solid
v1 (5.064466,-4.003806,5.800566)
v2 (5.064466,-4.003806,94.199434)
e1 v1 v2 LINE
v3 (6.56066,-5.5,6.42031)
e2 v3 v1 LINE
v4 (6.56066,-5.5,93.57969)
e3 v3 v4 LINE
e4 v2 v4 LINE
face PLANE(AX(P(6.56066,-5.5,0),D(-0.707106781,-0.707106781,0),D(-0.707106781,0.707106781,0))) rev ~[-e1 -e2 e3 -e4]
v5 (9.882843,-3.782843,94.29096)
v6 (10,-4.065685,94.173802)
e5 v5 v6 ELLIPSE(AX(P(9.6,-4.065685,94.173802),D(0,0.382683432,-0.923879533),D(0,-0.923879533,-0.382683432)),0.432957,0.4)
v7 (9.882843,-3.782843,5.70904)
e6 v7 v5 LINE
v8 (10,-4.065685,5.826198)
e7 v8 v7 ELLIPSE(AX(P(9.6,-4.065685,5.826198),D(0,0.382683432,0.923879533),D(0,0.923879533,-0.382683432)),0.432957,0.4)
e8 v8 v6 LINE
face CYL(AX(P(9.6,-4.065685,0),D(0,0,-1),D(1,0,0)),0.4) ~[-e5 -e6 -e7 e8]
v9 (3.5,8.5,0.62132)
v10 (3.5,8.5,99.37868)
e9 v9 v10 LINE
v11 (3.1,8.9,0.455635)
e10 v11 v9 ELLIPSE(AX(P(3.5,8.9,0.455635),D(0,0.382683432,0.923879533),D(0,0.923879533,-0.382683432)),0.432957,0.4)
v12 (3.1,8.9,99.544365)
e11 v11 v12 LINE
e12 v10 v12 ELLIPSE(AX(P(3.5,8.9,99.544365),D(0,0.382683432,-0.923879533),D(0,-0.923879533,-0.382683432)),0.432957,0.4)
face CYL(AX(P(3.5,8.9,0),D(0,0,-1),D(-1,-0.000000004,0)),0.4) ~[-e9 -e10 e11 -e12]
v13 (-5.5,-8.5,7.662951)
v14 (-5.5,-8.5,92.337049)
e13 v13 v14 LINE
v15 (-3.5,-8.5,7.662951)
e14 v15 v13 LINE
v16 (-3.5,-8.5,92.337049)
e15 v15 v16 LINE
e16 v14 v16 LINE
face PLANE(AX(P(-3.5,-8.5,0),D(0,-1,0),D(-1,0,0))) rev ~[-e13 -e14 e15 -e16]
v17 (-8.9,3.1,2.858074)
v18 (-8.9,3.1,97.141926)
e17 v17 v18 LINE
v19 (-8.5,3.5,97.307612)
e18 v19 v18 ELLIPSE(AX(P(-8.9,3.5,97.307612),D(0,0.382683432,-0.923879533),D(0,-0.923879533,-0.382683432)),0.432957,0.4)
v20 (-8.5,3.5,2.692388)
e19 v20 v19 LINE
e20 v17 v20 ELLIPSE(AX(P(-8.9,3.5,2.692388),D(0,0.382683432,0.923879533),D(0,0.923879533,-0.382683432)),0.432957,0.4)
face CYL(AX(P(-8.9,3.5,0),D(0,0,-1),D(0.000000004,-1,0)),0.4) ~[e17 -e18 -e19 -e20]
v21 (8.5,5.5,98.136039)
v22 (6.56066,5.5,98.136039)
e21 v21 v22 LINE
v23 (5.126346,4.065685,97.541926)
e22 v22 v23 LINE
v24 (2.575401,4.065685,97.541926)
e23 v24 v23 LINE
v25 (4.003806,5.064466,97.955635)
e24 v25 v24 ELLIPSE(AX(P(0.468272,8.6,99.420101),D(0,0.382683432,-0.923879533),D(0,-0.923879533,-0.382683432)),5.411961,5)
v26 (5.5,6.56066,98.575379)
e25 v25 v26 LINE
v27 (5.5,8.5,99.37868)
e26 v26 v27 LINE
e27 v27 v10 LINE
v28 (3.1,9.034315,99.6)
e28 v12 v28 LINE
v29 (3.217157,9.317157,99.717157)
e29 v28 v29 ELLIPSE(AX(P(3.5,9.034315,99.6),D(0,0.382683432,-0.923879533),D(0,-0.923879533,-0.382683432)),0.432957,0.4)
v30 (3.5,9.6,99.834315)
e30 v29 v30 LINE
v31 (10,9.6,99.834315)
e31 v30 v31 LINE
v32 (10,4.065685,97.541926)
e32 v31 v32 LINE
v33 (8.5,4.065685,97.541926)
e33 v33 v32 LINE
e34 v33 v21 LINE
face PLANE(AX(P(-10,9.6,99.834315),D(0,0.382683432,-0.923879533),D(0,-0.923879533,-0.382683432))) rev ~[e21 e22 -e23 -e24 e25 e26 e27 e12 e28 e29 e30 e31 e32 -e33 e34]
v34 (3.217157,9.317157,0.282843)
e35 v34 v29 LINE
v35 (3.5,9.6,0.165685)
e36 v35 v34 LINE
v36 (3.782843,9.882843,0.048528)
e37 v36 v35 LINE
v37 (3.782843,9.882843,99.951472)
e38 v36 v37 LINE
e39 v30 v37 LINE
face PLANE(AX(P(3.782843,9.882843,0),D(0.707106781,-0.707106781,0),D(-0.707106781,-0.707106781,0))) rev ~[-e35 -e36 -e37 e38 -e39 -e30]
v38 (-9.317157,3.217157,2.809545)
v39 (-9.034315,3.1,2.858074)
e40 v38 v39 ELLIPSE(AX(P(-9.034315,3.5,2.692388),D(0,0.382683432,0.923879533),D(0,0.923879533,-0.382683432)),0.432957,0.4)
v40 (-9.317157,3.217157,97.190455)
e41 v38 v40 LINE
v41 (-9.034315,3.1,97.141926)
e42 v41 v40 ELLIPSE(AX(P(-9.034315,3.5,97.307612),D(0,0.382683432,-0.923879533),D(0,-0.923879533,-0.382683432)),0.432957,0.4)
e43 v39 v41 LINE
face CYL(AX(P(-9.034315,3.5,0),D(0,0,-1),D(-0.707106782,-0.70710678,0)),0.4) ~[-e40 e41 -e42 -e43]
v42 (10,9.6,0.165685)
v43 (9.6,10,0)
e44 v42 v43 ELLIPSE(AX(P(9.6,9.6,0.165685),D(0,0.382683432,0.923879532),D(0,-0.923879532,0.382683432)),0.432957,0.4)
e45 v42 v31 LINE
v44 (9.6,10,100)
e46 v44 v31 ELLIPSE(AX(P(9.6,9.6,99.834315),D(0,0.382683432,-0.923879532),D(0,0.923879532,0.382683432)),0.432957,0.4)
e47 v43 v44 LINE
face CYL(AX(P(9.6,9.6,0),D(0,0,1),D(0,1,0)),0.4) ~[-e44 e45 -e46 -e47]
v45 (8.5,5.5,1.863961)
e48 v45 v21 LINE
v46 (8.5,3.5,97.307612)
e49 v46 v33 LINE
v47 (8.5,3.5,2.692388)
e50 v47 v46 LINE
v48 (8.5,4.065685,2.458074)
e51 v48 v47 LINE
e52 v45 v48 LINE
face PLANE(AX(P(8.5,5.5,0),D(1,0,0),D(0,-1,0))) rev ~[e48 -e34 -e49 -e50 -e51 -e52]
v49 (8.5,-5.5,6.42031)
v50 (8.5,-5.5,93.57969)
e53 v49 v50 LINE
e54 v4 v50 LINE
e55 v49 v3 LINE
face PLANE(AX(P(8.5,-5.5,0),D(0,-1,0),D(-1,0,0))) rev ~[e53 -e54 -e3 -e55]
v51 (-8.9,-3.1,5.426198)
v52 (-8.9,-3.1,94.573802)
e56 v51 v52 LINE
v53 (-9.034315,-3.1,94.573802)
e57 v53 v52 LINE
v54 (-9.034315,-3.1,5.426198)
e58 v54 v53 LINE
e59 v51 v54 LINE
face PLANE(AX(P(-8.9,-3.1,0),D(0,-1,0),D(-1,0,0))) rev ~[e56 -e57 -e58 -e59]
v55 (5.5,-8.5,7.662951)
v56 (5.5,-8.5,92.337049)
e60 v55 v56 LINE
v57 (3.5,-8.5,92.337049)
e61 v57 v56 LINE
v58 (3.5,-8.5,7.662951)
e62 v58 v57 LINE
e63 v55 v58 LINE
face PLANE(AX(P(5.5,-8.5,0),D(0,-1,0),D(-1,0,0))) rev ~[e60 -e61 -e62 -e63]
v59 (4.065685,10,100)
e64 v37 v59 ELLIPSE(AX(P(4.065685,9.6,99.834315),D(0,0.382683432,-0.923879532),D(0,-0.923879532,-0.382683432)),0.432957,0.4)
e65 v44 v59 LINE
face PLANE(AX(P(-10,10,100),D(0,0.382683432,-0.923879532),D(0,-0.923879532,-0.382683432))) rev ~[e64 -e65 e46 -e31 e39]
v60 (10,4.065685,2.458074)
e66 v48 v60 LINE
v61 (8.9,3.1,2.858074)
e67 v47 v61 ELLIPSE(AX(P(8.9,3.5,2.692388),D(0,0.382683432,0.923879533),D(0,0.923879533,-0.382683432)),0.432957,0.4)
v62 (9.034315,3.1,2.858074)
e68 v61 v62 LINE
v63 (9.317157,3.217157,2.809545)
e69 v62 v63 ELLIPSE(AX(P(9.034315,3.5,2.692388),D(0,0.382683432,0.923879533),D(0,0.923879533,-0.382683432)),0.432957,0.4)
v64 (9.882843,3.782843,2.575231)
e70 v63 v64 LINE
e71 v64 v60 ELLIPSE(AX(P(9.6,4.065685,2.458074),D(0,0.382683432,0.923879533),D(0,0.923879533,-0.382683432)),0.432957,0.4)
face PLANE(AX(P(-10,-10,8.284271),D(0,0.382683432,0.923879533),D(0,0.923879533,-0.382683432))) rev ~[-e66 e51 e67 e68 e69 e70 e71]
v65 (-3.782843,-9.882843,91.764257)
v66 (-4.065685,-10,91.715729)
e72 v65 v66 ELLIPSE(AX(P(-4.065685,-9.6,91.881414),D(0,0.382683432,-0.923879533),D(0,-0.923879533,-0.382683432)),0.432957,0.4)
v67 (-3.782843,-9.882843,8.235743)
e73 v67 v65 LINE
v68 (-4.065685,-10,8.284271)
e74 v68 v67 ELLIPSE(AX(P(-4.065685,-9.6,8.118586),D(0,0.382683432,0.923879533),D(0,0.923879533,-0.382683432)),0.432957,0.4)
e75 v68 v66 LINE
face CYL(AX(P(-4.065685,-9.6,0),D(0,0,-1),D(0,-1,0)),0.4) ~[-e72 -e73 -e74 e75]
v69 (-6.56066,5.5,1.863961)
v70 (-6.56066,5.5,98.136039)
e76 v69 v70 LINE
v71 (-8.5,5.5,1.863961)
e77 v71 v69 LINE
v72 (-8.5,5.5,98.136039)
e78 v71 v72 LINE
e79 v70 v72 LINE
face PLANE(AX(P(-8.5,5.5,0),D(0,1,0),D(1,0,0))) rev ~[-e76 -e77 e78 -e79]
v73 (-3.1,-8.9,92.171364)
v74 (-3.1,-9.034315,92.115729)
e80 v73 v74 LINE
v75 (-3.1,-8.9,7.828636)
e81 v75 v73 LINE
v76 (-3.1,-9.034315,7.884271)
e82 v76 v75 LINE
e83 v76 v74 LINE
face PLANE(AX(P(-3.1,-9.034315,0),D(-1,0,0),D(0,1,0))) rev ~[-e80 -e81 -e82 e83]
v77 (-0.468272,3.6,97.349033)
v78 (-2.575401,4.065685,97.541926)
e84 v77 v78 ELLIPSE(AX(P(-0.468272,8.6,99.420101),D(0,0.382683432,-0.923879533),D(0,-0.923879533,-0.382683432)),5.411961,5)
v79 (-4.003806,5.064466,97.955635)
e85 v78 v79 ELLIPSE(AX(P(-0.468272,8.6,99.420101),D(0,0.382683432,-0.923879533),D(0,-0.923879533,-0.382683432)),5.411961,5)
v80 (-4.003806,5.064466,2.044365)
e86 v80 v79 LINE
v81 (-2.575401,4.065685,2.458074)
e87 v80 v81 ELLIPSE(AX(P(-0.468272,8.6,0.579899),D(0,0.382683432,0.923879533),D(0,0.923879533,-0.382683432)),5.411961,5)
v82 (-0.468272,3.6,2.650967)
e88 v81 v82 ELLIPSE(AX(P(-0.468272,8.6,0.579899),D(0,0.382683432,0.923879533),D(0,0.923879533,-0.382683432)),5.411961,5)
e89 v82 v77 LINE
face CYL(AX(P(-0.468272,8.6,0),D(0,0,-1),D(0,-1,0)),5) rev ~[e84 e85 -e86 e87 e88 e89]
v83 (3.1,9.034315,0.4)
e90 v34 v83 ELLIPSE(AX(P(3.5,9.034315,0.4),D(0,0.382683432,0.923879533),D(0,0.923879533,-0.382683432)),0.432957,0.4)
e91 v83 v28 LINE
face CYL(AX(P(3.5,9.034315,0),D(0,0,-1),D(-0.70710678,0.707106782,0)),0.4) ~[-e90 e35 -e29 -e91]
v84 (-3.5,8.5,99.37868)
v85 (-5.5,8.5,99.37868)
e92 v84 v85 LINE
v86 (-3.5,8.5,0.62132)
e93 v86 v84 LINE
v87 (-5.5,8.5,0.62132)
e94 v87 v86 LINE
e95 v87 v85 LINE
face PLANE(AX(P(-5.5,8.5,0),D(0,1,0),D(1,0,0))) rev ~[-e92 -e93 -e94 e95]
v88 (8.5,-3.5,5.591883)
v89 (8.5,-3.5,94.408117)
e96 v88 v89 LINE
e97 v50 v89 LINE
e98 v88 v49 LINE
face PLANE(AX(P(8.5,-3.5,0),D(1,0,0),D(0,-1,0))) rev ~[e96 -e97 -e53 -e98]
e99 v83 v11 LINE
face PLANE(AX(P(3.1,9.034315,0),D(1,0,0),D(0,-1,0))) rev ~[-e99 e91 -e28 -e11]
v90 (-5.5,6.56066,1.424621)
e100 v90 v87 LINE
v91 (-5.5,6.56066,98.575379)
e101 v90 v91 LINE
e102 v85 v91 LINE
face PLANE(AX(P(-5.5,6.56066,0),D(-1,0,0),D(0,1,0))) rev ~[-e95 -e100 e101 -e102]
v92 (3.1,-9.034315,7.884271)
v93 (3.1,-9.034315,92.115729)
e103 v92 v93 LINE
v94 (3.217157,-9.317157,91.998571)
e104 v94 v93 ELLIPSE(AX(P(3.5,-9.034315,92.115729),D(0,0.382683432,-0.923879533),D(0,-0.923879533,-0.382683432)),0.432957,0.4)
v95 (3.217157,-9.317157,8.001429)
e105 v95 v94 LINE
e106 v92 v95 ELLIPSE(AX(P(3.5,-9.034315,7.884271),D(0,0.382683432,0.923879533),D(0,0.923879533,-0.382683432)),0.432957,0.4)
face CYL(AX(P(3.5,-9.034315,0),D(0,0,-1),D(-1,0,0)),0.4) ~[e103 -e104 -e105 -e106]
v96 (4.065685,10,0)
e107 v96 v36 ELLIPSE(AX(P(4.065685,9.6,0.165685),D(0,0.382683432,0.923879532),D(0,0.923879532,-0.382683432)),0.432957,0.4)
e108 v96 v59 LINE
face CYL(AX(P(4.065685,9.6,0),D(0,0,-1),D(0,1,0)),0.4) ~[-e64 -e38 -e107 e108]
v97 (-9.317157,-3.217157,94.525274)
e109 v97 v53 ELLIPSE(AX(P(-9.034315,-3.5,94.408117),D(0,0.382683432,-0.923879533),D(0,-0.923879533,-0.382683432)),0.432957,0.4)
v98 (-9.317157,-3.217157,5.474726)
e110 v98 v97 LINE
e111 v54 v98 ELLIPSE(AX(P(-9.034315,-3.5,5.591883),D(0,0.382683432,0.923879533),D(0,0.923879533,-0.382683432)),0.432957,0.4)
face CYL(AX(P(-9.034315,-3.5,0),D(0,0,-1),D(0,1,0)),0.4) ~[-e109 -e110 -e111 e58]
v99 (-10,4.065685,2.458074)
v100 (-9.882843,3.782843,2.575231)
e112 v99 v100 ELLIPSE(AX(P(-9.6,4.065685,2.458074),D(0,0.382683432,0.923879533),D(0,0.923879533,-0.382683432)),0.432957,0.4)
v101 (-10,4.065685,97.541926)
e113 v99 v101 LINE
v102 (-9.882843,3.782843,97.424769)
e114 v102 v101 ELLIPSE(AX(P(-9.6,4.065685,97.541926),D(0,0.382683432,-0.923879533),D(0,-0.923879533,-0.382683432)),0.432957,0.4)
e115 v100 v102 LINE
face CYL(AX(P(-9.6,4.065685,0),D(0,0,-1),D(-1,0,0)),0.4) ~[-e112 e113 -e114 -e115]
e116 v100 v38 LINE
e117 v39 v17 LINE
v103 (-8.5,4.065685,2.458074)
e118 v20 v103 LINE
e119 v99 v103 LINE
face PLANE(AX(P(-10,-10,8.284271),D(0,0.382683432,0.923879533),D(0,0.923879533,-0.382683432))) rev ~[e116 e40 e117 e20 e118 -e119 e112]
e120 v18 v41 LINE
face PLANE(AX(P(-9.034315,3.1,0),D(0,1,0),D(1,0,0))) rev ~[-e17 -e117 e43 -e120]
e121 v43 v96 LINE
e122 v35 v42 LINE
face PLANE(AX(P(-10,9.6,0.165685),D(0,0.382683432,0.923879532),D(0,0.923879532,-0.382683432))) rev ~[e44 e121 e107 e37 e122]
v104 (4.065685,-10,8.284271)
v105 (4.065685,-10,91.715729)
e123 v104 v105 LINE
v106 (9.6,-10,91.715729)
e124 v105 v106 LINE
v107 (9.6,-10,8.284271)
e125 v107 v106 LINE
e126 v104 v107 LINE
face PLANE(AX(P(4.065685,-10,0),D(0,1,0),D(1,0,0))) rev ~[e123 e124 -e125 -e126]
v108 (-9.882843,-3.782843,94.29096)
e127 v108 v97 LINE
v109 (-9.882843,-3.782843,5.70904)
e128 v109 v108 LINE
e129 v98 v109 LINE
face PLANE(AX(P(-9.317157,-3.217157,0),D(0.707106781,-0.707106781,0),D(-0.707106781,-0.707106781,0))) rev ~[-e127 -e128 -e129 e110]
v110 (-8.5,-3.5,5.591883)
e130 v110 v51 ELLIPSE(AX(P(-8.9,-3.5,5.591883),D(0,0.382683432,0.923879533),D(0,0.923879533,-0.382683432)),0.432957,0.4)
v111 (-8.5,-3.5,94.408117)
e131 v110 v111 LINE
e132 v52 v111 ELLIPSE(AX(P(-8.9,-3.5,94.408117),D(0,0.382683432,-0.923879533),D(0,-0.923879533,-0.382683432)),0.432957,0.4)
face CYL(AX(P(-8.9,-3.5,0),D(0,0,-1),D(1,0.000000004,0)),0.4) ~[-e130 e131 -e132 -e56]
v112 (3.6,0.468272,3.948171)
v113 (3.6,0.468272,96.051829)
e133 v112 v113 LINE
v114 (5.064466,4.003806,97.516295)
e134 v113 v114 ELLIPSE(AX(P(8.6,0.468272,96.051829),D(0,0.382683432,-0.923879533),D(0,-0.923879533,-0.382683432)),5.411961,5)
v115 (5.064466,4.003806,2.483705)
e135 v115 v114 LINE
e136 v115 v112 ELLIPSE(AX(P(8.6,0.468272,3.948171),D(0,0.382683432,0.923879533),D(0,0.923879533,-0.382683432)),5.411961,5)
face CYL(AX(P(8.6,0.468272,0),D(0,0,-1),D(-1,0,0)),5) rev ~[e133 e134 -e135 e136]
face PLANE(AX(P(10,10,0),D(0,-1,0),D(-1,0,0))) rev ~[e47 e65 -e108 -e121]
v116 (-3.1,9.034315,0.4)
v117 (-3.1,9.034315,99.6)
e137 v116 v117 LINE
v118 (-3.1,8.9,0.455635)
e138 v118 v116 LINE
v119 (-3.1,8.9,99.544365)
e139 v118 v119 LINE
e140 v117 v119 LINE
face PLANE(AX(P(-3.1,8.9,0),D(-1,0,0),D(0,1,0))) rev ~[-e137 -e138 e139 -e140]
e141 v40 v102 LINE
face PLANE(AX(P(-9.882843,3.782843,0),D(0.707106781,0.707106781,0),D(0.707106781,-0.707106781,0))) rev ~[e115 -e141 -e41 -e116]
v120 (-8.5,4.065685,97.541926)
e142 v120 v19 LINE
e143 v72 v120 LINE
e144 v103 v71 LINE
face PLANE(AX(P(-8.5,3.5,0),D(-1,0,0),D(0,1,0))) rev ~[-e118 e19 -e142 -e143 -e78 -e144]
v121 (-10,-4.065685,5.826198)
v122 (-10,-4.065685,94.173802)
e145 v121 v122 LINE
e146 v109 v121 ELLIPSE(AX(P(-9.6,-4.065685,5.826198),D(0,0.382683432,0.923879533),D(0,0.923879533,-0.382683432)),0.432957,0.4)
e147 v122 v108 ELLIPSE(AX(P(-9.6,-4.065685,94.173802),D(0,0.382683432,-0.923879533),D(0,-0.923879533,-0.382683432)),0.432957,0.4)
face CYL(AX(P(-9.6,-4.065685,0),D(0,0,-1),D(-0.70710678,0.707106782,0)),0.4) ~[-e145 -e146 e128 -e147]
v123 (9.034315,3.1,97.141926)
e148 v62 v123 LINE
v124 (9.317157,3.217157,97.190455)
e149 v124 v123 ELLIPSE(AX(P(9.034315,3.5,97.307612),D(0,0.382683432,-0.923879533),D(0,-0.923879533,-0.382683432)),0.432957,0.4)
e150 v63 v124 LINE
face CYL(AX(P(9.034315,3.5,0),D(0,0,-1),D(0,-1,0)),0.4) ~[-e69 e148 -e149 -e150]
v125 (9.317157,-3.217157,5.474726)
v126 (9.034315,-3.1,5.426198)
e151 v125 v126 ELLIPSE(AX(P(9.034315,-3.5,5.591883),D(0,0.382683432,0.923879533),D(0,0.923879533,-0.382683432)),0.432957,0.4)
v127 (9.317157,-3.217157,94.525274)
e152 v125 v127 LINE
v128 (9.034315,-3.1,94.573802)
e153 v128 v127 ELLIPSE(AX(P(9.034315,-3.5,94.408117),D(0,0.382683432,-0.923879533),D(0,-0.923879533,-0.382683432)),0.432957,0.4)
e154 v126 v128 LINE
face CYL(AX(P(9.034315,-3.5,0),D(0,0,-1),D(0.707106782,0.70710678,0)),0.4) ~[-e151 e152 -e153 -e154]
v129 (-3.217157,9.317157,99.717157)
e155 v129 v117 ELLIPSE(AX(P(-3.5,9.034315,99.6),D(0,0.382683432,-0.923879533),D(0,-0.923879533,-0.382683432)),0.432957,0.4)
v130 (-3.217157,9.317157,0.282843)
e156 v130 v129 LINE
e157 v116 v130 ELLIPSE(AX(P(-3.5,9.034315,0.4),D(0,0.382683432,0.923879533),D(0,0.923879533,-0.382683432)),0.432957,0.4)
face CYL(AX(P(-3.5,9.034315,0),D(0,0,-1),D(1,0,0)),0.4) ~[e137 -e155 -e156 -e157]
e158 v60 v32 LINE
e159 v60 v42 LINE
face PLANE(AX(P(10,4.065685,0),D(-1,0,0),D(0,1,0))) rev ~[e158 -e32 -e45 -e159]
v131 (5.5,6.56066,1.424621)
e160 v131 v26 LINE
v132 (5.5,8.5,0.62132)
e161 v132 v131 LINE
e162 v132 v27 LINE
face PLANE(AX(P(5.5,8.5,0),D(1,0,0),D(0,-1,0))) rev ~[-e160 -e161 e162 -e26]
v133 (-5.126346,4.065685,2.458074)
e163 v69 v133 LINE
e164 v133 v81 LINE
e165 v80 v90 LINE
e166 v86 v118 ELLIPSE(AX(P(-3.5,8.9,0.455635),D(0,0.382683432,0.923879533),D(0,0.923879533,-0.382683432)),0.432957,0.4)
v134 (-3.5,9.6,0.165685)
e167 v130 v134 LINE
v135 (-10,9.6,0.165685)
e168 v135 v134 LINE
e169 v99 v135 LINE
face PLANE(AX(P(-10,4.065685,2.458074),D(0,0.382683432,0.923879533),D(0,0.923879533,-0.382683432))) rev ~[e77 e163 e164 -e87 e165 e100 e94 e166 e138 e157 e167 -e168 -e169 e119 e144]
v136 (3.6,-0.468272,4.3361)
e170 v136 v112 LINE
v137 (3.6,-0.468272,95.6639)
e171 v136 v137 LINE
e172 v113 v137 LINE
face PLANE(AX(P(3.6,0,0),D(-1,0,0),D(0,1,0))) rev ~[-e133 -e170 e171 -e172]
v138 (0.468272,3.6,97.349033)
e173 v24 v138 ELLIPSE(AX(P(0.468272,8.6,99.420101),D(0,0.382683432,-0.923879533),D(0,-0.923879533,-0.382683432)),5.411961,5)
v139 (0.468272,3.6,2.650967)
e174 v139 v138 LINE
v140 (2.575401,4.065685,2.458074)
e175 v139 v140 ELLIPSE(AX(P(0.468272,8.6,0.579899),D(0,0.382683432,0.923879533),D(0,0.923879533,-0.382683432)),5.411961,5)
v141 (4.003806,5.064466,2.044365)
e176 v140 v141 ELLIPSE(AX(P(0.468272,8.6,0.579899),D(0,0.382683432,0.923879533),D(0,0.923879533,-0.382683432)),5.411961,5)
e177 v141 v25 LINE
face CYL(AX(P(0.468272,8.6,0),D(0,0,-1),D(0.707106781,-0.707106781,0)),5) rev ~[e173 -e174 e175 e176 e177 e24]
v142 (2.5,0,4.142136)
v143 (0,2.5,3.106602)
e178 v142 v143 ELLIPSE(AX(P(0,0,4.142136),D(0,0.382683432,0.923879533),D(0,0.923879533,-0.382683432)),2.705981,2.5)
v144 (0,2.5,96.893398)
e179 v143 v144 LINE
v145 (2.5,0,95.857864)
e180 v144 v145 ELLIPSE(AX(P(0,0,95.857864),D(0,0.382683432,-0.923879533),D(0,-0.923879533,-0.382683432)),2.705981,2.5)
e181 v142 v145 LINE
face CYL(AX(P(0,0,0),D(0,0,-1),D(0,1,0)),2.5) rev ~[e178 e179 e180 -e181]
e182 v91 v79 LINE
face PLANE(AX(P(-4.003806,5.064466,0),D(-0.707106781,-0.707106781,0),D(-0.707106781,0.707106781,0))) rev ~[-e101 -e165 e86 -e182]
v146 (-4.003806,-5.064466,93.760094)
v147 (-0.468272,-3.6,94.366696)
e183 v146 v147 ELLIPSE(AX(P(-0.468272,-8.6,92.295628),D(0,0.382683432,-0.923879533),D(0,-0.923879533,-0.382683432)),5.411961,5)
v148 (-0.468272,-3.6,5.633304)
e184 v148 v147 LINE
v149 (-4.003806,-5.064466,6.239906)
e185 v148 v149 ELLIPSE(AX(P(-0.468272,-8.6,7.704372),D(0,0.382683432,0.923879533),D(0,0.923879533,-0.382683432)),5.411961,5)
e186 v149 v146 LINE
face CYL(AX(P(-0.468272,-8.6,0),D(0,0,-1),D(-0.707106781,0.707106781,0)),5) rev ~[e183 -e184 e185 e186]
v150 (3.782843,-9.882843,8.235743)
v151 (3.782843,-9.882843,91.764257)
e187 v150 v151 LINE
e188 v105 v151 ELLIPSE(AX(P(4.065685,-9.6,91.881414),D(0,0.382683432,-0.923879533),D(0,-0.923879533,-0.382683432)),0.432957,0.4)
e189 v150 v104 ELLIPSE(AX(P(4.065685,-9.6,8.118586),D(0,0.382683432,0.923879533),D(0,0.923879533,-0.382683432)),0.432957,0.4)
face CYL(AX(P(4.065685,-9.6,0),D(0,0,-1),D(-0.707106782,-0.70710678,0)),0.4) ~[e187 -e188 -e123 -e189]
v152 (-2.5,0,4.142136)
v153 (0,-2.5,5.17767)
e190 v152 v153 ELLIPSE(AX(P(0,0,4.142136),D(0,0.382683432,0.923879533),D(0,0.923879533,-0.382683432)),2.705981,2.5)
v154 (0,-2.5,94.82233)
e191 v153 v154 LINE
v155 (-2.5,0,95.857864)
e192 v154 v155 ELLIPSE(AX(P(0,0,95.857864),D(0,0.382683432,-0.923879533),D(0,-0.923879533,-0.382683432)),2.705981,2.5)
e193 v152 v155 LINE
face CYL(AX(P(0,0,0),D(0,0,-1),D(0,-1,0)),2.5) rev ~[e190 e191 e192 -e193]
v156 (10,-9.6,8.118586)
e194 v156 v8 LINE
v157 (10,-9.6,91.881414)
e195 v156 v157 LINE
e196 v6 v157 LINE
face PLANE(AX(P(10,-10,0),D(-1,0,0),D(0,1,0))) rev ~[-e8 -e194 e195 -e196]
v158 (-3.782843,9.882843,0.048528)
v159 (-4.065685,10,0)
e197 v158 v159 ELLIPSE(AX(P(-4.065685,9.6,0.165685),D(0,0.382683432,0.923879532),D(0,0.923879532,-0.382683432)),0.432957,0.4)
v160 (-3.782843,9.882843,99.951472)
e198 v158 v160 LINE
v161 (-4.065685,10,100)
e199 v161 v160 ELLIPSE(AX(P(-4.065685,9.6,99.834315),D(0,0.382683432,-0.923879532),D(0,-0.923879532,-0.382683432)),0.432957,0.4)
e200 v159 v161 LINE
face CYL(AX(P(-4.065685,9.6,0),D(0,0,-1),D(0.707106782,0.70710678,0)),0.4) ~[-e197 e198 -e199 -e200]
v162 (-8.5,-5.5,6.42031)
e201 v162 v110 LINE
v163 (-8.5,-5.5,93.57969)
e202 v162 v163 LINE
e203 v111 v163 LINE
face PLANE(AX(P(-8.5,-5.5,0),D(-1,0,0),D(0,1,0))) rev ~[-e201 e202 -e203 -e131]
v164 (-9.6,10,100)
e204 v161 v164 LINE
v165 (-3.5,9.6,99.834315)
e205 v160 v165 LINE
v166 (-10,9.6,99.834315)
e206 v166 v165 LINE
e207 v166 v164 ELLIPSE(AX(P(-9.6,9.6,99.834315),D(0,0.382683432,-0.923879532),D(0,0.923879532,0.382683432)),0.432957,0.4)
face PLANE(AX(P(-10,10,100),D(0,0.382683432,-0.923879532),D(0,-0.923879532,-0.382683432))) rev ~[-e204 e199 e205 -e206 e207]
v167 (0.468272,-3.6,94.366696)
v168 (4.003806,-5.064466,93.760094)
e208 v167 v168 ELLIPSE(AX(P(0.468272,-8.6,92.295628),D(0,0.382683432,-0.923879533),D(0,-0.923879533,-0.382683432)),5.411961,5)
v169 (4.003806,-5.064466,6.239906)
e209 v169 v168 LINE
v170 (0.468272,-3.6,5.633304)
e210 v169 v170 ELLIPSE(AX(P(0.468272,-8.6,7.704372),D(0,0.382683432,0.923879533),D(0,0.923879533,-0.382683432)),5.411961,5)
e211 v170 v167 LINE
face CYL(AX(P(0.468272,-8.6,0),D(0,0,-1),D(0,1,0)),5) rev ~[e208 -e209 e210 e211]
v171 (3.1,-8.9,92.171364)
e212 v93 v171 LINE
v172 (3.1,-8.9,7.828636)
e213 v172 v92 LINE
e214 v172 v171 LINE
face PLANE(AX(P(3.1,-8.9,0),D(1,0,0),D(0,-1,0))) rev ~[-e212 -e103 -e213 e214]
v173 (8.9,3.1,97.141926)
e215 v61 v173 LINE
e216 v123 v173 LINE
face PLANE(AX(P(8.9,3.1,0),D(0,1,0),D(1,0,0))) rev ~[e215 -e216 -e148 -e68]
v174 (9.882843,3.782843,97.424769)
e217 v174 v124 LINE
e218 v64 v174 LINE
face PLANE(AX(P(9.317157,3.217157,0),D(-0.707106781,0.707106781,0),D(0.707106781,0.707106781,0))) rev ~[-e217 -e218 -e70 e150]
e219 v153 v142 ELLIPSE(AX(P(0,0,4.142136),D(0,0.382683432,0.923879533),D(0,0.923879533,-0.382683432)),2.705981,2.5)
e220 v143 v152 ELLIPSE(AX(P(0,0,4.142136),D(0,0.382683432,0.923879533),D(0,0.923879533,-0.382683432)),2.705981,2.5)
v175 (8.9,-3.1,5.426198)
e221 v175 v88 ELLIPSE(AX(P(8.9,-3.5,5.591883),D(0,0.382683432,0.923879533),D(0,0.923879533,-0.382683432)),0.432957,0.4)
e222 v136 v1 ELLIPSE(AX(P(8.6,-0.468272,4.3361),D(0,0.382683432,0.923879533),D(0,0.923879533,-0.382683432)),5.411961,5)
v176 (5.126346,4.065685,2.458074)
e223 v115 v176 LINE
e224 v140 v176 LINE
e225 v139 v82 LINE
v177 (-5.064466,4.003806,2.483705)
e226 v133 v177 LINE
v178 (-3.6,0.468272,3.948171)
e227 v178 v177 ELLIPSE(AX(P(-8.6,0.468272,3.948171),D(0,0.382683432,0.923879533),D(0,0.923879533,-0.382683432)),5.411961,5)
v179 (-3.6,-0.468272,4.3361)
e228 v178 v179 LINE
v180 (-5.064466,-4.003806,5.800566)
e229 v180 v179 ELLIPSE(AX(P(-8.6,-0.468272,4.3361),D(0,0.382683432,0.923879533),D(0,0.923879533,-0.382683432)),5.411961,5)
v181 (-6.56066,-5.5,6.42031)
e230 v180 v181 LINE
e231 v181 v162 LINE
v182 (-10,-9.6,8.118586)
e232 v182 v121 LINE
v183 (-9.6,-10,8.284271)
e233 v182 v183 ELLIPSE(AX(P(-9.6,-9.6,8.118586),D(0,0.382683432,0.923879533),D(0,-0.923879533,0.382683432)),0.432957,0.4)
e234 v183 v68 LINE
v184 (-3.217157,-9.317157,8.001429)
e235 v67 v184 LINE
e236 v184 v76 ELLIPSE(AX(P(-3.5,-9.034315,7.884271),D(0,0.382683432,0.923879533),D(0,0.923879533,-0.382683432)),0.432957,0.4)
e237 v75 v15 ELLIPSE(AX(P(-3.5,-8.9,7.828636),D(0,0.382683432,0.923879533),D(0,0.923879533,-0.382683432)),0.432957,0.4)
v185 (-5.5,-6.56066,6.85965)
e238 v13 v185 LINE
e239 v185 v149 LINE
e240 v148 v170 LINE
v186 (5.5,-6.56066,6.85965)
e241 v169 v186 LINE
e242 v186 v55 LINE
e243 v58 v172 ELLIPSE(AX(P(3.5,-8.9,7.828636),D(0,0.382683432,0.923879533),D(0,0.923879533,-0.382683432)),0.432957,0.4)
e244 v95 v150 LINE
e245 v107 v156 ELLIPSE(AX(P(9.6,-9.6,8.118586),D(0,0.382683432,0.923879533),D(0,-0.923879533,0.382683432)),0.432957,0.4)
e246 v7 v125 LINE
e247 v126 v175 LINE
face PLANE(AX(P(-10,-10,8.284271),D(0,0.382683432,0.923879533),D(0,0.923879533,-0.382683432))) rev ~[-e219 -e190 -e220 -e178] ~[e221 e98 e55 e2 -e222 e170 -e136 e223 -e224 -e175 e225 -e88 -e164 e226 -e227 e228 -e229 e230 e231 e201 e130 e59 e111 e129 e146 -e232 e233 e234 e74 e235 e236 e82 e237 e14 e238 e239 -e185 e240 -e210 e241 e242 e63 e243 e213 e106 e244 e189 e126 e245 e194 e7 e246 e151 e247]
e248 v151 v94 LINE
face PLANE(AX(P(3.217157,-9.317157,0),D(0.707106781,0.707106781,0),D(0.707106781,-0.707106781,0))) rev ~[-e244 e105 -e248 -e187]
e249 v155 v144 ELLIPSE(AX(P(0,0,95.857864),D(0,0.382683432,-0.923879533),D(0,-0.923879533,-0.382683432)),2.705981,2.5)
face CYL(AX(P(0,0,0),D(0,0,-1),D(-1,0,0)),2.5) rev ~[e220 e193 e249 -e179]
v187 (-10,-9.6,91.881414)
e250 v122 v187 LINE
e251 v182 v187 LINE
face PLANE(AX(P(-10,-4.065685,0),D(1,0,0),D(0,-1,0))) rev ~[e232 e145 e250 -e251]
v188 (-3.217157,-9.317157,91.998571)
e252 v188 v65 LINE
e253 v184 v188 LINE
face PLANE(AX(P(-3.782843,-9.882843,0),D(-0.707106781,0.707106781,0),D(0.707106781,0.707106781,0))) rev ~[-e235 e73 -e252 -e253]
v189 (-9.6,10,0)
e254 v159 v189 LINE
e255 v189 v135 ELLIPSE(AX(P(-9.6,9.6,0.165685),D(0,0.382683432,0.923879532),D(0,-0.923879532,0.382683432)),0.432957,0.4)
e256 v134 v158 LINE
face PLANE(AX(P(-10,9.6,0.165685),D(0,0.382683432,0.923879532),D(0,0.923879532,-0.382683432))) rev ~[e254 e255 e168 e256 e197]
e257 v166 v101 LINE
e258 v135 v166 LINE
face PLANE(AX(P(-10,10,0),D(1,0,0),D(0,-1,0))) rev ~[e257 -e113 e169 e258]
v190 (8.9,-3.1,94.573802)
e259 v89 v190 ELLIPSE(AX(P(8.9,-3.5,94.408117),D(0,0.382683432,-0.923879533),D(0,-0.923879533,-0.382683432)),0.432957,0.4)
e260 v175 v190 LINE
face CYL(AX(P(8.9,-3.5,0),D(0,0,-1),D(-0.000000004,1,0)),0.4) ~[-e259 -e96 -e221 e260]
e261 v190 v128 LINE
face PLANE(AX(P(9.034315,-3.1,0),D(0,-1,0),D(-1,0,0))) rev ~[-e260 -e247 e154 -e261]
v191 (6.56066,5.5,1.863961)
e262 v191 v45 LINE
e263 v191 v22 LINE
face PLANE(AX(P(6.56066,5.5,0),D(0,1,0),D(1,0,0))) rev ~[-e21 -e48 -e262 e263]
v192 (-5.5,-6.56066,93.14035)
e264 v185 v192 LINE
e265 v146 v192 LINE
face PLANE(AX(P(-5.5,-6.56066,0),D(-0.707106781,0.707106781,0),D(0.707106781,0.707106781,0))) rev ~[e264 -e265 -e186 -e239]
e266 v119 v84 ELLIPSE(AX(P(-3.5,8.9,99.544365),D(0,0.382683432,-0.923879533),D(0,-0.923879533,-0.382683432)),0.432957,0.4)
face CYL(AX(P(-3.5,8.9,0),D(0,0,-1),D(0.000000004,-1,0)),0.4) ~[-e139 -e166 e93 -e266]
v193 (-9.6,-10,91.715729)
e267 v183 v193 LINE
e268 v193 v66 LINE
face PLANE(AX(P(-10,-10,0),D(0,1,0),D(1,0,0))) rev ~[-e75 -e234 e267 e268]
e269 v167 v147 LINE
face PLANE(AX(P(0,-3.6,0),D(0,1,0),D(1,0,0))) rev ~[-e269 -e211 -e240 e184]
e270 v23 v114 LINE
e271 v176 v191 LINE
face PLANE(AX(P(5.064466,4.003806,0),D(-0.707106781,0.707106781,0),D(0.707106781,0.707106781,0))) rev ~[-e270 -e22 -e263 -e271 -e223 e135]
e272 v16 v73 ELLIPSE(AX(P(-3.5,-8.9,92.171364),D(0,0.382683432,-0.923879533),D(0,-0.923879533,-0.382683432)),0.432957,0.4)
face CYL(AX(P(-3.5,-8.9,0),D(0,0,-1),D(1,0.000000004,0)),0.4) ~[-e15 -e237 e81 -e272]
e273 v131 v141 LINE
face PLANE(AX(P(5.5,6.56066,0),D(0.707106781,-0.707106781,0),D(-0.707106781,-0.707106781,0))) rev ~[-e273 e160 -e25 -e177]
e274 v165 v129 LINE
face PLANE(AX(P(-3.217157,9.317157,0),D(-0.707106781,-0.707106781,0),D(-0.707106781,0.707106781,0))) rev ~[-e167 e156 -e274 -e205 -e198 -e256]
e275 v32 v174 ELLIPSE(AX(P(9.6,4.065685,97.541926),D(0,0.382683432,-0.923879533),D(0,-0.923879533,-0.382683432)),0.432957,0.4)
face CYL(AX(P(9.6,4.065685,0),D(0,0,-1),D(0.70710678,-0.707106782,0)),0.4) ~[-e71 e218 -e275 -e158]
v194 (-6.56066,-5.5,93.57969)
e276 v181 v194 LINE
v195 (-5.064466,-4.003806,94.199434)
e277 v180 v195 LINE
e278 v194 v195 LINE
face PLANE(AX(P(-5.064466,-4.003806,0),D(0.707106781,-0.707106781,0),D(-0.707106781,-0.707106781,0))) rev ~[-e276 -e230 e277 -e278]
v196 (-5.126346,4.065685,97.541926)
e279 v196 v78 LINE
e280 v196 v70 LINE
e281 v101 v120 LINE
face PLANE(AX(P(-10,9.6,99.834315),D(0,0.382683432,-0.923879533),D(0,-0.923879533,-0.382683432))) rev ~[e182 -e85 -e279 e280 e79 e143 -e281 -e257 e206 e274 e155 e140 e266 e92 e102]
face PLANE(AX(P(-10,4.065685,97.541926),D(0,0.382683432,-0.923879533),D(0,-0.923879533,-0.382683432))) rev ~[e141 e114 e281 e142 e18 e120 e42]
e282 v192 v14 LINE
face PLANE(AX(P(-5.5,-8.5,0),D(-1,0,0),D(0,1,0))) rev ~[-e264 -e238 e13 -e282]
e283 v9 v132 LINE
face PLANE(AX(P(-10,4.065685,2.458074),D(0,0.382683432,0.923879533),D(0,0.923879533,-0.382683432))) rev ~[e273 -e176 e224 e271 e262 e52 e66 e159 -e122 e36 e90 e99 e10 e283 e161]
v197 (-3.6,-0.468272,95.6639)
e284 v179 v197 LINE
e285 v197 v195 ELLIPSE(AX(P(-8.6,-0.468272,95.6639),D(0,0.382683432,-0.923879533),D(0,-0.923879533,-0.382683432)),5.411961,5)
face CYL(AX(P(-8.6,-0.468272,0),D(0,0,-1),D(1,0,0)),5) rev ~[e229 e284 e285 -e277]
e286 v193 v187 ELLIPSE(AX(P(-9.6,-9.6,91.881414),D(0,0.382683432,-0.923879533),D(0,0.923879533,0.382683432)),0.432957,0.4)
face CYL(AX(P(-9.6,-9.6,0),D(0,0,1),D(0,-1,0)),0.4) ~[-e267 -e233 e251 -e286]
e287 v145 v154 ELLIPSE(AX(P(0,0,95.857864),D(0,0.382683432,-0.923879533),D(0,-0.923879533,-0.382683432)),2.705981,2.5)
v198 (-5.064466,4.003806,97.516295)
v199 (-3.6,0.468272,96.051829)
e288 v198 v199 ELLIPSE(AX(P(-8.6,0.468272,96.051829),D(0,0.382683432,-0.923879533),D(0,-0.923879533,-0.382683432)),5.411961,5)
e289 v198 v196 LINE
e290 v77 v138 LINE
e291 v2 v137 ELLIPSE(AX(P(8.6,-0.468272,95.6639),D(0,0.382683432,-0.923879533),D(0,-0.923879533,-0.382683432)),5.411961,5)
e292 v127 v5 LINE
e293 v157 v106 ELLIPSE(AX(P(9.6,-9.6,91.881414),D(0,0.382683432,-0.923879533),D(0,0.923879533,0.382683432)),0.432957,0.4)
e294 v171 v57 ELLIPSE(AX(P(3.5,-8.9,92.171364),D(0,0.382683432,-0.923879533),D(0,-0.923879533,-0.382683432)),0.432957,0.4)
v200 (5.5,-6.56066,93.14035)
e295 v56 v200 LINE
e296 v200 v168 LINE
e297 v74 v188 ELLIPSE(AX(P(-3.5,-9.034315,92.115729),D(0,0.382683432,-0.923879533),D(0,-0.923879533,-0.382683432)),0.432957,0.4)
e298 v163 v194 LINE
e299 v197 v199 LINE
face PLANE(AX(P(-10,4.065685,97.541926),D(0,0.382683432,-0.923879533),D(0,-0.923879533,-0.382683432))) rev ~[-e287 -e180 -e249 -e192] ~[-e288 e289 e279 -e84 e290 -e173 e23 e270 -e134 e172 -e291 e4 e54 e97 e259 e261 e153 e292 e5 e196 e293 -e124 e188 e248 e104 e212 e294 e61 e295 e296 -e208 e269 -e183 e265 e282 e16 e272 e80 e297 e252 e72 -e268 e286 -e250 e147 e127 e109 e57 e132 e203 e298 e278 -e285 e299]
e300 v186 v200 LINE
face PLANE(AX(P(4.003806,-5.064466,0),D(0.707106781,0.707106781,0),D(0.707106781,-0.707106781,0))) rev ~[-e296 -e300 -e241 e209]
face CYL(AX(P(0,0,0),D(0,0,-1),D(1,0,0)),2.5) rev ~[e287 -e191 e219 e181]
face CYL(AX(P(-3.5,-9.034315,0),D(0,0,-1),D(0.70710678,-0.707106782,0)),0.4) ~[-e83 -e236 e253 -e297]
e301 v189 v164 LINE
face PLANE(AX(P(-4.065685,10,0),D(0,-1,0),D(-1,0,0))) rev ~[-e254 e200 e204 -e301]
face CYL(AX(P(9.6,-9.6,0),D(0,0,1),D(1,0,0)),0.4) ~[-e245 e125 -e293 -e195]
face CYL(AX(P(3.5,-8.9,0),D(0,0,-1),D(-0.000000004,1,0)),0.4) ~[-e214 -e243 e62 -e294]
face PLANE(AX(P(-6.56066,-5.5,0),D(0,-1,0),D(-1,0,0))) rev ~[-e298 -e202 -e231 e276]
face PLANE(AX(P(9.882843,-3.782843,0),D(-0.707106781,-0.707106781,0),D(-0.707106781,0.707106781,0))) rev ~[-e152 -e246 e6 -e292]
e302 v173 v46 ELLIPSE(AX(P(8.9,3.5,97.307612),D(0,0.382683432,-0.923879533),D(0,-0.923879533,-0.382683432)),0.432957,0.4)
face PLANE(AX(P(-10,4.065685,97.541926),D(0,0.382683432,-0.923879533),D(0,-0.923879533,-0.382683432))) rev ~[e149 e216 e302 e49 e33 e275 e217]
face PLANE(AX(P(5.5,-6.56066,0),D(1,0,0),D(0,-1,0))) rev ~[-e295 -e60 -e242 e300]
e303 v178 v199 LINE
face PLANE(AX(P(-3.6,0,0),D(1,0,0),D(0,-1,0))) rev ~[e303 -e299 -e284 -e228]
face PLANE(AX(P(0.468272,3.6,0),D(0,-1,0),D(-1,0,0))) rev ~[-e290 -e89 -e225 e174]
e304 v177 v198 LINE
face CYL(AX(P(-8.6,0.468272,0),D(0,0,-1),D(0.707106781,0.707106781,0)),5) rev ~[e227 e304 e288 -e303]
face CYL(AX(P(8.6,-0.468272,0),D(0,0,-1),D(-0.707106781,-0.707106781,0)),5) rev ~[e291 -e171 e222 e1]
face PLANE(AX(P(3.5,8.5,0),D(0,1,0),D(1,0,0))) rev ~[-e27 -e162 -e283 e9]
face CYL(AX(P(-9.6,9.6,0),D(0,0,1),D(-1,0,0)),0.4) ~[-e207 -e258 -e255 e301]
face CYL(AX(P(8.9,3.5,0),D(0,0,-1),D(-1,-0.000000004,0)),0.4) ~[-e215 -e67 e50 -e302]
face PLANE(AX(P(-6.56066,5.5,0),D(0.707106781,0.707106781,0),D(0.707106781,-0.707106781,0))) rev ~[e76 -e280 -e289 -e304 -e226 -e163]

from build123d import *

# Parameters (mm, degrees)
RESSALTO_EXTRUS_O1_DEPTH = 100
PADR_OCIRCULAR1_COUNT    = 4
FILETE1_R                = 0.4
CUT_EXTRUDE1_DEPTH       = 103.46950766


with BuildPart() as part:
    # Esboço1 → Ressalto-extrusão1 (new body)
    with BuildSketch(Plane.XY):
        with BuildLine():
            ThreePointArc((-9.317157288, 3.217157288), (-9.187387948, 3.130448187), (-9.034314575, 3.1))
            Line((-9.034314575, 3.1), (-8.9, 3.1))
            ThreePointArc((-8.9, 3.1), (-8.617157288, 3.217157288), (-8.5, 3.5))
            Line((-8.5, 3.5), (-8.5, 5.5))
            Line((-8.5, 5.5), (-6.560660172, 5.5))
            Line((-6.560660172, 5.5), (-5.064466094, 4.003805922))
            ThreePointArc((-5.064466094, 4.003805922), (-3.980602337, 2.381689178), (-3.6, 0.468272016))
            Line((-3.6, 0.468272016), (-3.6, 0))
            Line((-3.6, 0), (-2.5, 0))
            ThreePointArc((-2.5, 0), (-1.767766953, 1.767766953), (0, 2.5))
            Line((0, 2.5), (0, 3.6))
            Line((0, 3.6), (-0.468272016, 3.6))
            ThreePointArc((-0.468272016, 3.6), (-2.381689178, 3.980602337), (-4.003805922, 5.064466094))
            Line((-4.003805922, 5.064466094), (-5.5, 6.560660172))
            Line((-5.5, 6.560660172), (-5.5, 8.5))
            Line((-5.5, 8.5), (-3.5, 8.5))
            ThreePointArc((-3.5, 8.5), (-3.217157288, 8.617157288), (-3.1, 8.9))
            Line((-3.1, 8.9), (-3.1, 9.034314575))
            ThreePointArc((-3.1, 9.034314575), (-3.130448187, 9.187387948), (-3.217157288, 9.317157288))
            Line((-3.217157288, 9.317157288), (-3.782842712, 9.882842712))
            ThreePointArc((-3.782842712, 9.882842712), (-3.912612052, 9.969551813), (-4.065685425, 10))
            Line((-4.065685425, 10), (-10, 10))
            Line((-10, 10), (-10, 4.065685425))
            ThreePointArc((-10, 4.065685425), (-9.969551813, 3.912612052), (-9.882842712, 3.782842712))
            Line((-9.882842712, 3.782842712), (-9.317157288, 3.217157288))
        make_face()
    ressalto_extrus_o1 = extrude(amount=RESSALTO_EXTRUS_O1_DEPTH)

    # PadrãoCircular1: Ressalto-extrusão1 ×4 about axis
    padr_ocircular1_axis = Axis((0, 0, 0), (0, 0, 1))
    for i in range(1, PADR_OCIRCULAR1_COUNT):
        add(ressalto_extrus_o1.rotate(padr_ocircular1_axis, i * 360 / PADR_OCIRCULAR1_COUNT))

    # Filete1
    filete1_edges = [part.edges().sort_by_distance(p)[0] for p in [
        (10, -10, 50),
        (10, 10, 50),
        (-10, 10, 50),
        (-10, -10, 50),
    ]]
    fillet(filete1_edges, radius=FILETE1_R)

    # Sketch1 → Cut-Extrude1 (cut, through all)
    with BuildSketch(Plane.ZY.offset(10)):
        Polygon((2.45807358, 4.065685425), (0, 4.065685425), (0, -10), (8.284271247, -10), align=None)
        Polygon((0.165685425, 9.6), (0, 9.6), (0, 4.065685425), (2.45807358, 4.065685425), align=None)
        Polygon((100, 9.6), (99.834314575, 9.6), (97.54192642, 4.065685425), (100, 4.065685425), align=None)
        Polygon((100, 4.065685425), (97.54192642, 4.065685425), (91.715728753, -10), (100, -10), (100, -9.6), align=None)
        Polygon((100, 10), (99.834314575, 9.6), (100, 9.6), align=None)
        Polygon((0.165685425, 9.6), (0, 10), (0, 9.6), align=None)
    extrude(amount=-CUT_EXTRUDE1_DEPTH, mode=Mode.SUBTRACT)


solid = part.part
